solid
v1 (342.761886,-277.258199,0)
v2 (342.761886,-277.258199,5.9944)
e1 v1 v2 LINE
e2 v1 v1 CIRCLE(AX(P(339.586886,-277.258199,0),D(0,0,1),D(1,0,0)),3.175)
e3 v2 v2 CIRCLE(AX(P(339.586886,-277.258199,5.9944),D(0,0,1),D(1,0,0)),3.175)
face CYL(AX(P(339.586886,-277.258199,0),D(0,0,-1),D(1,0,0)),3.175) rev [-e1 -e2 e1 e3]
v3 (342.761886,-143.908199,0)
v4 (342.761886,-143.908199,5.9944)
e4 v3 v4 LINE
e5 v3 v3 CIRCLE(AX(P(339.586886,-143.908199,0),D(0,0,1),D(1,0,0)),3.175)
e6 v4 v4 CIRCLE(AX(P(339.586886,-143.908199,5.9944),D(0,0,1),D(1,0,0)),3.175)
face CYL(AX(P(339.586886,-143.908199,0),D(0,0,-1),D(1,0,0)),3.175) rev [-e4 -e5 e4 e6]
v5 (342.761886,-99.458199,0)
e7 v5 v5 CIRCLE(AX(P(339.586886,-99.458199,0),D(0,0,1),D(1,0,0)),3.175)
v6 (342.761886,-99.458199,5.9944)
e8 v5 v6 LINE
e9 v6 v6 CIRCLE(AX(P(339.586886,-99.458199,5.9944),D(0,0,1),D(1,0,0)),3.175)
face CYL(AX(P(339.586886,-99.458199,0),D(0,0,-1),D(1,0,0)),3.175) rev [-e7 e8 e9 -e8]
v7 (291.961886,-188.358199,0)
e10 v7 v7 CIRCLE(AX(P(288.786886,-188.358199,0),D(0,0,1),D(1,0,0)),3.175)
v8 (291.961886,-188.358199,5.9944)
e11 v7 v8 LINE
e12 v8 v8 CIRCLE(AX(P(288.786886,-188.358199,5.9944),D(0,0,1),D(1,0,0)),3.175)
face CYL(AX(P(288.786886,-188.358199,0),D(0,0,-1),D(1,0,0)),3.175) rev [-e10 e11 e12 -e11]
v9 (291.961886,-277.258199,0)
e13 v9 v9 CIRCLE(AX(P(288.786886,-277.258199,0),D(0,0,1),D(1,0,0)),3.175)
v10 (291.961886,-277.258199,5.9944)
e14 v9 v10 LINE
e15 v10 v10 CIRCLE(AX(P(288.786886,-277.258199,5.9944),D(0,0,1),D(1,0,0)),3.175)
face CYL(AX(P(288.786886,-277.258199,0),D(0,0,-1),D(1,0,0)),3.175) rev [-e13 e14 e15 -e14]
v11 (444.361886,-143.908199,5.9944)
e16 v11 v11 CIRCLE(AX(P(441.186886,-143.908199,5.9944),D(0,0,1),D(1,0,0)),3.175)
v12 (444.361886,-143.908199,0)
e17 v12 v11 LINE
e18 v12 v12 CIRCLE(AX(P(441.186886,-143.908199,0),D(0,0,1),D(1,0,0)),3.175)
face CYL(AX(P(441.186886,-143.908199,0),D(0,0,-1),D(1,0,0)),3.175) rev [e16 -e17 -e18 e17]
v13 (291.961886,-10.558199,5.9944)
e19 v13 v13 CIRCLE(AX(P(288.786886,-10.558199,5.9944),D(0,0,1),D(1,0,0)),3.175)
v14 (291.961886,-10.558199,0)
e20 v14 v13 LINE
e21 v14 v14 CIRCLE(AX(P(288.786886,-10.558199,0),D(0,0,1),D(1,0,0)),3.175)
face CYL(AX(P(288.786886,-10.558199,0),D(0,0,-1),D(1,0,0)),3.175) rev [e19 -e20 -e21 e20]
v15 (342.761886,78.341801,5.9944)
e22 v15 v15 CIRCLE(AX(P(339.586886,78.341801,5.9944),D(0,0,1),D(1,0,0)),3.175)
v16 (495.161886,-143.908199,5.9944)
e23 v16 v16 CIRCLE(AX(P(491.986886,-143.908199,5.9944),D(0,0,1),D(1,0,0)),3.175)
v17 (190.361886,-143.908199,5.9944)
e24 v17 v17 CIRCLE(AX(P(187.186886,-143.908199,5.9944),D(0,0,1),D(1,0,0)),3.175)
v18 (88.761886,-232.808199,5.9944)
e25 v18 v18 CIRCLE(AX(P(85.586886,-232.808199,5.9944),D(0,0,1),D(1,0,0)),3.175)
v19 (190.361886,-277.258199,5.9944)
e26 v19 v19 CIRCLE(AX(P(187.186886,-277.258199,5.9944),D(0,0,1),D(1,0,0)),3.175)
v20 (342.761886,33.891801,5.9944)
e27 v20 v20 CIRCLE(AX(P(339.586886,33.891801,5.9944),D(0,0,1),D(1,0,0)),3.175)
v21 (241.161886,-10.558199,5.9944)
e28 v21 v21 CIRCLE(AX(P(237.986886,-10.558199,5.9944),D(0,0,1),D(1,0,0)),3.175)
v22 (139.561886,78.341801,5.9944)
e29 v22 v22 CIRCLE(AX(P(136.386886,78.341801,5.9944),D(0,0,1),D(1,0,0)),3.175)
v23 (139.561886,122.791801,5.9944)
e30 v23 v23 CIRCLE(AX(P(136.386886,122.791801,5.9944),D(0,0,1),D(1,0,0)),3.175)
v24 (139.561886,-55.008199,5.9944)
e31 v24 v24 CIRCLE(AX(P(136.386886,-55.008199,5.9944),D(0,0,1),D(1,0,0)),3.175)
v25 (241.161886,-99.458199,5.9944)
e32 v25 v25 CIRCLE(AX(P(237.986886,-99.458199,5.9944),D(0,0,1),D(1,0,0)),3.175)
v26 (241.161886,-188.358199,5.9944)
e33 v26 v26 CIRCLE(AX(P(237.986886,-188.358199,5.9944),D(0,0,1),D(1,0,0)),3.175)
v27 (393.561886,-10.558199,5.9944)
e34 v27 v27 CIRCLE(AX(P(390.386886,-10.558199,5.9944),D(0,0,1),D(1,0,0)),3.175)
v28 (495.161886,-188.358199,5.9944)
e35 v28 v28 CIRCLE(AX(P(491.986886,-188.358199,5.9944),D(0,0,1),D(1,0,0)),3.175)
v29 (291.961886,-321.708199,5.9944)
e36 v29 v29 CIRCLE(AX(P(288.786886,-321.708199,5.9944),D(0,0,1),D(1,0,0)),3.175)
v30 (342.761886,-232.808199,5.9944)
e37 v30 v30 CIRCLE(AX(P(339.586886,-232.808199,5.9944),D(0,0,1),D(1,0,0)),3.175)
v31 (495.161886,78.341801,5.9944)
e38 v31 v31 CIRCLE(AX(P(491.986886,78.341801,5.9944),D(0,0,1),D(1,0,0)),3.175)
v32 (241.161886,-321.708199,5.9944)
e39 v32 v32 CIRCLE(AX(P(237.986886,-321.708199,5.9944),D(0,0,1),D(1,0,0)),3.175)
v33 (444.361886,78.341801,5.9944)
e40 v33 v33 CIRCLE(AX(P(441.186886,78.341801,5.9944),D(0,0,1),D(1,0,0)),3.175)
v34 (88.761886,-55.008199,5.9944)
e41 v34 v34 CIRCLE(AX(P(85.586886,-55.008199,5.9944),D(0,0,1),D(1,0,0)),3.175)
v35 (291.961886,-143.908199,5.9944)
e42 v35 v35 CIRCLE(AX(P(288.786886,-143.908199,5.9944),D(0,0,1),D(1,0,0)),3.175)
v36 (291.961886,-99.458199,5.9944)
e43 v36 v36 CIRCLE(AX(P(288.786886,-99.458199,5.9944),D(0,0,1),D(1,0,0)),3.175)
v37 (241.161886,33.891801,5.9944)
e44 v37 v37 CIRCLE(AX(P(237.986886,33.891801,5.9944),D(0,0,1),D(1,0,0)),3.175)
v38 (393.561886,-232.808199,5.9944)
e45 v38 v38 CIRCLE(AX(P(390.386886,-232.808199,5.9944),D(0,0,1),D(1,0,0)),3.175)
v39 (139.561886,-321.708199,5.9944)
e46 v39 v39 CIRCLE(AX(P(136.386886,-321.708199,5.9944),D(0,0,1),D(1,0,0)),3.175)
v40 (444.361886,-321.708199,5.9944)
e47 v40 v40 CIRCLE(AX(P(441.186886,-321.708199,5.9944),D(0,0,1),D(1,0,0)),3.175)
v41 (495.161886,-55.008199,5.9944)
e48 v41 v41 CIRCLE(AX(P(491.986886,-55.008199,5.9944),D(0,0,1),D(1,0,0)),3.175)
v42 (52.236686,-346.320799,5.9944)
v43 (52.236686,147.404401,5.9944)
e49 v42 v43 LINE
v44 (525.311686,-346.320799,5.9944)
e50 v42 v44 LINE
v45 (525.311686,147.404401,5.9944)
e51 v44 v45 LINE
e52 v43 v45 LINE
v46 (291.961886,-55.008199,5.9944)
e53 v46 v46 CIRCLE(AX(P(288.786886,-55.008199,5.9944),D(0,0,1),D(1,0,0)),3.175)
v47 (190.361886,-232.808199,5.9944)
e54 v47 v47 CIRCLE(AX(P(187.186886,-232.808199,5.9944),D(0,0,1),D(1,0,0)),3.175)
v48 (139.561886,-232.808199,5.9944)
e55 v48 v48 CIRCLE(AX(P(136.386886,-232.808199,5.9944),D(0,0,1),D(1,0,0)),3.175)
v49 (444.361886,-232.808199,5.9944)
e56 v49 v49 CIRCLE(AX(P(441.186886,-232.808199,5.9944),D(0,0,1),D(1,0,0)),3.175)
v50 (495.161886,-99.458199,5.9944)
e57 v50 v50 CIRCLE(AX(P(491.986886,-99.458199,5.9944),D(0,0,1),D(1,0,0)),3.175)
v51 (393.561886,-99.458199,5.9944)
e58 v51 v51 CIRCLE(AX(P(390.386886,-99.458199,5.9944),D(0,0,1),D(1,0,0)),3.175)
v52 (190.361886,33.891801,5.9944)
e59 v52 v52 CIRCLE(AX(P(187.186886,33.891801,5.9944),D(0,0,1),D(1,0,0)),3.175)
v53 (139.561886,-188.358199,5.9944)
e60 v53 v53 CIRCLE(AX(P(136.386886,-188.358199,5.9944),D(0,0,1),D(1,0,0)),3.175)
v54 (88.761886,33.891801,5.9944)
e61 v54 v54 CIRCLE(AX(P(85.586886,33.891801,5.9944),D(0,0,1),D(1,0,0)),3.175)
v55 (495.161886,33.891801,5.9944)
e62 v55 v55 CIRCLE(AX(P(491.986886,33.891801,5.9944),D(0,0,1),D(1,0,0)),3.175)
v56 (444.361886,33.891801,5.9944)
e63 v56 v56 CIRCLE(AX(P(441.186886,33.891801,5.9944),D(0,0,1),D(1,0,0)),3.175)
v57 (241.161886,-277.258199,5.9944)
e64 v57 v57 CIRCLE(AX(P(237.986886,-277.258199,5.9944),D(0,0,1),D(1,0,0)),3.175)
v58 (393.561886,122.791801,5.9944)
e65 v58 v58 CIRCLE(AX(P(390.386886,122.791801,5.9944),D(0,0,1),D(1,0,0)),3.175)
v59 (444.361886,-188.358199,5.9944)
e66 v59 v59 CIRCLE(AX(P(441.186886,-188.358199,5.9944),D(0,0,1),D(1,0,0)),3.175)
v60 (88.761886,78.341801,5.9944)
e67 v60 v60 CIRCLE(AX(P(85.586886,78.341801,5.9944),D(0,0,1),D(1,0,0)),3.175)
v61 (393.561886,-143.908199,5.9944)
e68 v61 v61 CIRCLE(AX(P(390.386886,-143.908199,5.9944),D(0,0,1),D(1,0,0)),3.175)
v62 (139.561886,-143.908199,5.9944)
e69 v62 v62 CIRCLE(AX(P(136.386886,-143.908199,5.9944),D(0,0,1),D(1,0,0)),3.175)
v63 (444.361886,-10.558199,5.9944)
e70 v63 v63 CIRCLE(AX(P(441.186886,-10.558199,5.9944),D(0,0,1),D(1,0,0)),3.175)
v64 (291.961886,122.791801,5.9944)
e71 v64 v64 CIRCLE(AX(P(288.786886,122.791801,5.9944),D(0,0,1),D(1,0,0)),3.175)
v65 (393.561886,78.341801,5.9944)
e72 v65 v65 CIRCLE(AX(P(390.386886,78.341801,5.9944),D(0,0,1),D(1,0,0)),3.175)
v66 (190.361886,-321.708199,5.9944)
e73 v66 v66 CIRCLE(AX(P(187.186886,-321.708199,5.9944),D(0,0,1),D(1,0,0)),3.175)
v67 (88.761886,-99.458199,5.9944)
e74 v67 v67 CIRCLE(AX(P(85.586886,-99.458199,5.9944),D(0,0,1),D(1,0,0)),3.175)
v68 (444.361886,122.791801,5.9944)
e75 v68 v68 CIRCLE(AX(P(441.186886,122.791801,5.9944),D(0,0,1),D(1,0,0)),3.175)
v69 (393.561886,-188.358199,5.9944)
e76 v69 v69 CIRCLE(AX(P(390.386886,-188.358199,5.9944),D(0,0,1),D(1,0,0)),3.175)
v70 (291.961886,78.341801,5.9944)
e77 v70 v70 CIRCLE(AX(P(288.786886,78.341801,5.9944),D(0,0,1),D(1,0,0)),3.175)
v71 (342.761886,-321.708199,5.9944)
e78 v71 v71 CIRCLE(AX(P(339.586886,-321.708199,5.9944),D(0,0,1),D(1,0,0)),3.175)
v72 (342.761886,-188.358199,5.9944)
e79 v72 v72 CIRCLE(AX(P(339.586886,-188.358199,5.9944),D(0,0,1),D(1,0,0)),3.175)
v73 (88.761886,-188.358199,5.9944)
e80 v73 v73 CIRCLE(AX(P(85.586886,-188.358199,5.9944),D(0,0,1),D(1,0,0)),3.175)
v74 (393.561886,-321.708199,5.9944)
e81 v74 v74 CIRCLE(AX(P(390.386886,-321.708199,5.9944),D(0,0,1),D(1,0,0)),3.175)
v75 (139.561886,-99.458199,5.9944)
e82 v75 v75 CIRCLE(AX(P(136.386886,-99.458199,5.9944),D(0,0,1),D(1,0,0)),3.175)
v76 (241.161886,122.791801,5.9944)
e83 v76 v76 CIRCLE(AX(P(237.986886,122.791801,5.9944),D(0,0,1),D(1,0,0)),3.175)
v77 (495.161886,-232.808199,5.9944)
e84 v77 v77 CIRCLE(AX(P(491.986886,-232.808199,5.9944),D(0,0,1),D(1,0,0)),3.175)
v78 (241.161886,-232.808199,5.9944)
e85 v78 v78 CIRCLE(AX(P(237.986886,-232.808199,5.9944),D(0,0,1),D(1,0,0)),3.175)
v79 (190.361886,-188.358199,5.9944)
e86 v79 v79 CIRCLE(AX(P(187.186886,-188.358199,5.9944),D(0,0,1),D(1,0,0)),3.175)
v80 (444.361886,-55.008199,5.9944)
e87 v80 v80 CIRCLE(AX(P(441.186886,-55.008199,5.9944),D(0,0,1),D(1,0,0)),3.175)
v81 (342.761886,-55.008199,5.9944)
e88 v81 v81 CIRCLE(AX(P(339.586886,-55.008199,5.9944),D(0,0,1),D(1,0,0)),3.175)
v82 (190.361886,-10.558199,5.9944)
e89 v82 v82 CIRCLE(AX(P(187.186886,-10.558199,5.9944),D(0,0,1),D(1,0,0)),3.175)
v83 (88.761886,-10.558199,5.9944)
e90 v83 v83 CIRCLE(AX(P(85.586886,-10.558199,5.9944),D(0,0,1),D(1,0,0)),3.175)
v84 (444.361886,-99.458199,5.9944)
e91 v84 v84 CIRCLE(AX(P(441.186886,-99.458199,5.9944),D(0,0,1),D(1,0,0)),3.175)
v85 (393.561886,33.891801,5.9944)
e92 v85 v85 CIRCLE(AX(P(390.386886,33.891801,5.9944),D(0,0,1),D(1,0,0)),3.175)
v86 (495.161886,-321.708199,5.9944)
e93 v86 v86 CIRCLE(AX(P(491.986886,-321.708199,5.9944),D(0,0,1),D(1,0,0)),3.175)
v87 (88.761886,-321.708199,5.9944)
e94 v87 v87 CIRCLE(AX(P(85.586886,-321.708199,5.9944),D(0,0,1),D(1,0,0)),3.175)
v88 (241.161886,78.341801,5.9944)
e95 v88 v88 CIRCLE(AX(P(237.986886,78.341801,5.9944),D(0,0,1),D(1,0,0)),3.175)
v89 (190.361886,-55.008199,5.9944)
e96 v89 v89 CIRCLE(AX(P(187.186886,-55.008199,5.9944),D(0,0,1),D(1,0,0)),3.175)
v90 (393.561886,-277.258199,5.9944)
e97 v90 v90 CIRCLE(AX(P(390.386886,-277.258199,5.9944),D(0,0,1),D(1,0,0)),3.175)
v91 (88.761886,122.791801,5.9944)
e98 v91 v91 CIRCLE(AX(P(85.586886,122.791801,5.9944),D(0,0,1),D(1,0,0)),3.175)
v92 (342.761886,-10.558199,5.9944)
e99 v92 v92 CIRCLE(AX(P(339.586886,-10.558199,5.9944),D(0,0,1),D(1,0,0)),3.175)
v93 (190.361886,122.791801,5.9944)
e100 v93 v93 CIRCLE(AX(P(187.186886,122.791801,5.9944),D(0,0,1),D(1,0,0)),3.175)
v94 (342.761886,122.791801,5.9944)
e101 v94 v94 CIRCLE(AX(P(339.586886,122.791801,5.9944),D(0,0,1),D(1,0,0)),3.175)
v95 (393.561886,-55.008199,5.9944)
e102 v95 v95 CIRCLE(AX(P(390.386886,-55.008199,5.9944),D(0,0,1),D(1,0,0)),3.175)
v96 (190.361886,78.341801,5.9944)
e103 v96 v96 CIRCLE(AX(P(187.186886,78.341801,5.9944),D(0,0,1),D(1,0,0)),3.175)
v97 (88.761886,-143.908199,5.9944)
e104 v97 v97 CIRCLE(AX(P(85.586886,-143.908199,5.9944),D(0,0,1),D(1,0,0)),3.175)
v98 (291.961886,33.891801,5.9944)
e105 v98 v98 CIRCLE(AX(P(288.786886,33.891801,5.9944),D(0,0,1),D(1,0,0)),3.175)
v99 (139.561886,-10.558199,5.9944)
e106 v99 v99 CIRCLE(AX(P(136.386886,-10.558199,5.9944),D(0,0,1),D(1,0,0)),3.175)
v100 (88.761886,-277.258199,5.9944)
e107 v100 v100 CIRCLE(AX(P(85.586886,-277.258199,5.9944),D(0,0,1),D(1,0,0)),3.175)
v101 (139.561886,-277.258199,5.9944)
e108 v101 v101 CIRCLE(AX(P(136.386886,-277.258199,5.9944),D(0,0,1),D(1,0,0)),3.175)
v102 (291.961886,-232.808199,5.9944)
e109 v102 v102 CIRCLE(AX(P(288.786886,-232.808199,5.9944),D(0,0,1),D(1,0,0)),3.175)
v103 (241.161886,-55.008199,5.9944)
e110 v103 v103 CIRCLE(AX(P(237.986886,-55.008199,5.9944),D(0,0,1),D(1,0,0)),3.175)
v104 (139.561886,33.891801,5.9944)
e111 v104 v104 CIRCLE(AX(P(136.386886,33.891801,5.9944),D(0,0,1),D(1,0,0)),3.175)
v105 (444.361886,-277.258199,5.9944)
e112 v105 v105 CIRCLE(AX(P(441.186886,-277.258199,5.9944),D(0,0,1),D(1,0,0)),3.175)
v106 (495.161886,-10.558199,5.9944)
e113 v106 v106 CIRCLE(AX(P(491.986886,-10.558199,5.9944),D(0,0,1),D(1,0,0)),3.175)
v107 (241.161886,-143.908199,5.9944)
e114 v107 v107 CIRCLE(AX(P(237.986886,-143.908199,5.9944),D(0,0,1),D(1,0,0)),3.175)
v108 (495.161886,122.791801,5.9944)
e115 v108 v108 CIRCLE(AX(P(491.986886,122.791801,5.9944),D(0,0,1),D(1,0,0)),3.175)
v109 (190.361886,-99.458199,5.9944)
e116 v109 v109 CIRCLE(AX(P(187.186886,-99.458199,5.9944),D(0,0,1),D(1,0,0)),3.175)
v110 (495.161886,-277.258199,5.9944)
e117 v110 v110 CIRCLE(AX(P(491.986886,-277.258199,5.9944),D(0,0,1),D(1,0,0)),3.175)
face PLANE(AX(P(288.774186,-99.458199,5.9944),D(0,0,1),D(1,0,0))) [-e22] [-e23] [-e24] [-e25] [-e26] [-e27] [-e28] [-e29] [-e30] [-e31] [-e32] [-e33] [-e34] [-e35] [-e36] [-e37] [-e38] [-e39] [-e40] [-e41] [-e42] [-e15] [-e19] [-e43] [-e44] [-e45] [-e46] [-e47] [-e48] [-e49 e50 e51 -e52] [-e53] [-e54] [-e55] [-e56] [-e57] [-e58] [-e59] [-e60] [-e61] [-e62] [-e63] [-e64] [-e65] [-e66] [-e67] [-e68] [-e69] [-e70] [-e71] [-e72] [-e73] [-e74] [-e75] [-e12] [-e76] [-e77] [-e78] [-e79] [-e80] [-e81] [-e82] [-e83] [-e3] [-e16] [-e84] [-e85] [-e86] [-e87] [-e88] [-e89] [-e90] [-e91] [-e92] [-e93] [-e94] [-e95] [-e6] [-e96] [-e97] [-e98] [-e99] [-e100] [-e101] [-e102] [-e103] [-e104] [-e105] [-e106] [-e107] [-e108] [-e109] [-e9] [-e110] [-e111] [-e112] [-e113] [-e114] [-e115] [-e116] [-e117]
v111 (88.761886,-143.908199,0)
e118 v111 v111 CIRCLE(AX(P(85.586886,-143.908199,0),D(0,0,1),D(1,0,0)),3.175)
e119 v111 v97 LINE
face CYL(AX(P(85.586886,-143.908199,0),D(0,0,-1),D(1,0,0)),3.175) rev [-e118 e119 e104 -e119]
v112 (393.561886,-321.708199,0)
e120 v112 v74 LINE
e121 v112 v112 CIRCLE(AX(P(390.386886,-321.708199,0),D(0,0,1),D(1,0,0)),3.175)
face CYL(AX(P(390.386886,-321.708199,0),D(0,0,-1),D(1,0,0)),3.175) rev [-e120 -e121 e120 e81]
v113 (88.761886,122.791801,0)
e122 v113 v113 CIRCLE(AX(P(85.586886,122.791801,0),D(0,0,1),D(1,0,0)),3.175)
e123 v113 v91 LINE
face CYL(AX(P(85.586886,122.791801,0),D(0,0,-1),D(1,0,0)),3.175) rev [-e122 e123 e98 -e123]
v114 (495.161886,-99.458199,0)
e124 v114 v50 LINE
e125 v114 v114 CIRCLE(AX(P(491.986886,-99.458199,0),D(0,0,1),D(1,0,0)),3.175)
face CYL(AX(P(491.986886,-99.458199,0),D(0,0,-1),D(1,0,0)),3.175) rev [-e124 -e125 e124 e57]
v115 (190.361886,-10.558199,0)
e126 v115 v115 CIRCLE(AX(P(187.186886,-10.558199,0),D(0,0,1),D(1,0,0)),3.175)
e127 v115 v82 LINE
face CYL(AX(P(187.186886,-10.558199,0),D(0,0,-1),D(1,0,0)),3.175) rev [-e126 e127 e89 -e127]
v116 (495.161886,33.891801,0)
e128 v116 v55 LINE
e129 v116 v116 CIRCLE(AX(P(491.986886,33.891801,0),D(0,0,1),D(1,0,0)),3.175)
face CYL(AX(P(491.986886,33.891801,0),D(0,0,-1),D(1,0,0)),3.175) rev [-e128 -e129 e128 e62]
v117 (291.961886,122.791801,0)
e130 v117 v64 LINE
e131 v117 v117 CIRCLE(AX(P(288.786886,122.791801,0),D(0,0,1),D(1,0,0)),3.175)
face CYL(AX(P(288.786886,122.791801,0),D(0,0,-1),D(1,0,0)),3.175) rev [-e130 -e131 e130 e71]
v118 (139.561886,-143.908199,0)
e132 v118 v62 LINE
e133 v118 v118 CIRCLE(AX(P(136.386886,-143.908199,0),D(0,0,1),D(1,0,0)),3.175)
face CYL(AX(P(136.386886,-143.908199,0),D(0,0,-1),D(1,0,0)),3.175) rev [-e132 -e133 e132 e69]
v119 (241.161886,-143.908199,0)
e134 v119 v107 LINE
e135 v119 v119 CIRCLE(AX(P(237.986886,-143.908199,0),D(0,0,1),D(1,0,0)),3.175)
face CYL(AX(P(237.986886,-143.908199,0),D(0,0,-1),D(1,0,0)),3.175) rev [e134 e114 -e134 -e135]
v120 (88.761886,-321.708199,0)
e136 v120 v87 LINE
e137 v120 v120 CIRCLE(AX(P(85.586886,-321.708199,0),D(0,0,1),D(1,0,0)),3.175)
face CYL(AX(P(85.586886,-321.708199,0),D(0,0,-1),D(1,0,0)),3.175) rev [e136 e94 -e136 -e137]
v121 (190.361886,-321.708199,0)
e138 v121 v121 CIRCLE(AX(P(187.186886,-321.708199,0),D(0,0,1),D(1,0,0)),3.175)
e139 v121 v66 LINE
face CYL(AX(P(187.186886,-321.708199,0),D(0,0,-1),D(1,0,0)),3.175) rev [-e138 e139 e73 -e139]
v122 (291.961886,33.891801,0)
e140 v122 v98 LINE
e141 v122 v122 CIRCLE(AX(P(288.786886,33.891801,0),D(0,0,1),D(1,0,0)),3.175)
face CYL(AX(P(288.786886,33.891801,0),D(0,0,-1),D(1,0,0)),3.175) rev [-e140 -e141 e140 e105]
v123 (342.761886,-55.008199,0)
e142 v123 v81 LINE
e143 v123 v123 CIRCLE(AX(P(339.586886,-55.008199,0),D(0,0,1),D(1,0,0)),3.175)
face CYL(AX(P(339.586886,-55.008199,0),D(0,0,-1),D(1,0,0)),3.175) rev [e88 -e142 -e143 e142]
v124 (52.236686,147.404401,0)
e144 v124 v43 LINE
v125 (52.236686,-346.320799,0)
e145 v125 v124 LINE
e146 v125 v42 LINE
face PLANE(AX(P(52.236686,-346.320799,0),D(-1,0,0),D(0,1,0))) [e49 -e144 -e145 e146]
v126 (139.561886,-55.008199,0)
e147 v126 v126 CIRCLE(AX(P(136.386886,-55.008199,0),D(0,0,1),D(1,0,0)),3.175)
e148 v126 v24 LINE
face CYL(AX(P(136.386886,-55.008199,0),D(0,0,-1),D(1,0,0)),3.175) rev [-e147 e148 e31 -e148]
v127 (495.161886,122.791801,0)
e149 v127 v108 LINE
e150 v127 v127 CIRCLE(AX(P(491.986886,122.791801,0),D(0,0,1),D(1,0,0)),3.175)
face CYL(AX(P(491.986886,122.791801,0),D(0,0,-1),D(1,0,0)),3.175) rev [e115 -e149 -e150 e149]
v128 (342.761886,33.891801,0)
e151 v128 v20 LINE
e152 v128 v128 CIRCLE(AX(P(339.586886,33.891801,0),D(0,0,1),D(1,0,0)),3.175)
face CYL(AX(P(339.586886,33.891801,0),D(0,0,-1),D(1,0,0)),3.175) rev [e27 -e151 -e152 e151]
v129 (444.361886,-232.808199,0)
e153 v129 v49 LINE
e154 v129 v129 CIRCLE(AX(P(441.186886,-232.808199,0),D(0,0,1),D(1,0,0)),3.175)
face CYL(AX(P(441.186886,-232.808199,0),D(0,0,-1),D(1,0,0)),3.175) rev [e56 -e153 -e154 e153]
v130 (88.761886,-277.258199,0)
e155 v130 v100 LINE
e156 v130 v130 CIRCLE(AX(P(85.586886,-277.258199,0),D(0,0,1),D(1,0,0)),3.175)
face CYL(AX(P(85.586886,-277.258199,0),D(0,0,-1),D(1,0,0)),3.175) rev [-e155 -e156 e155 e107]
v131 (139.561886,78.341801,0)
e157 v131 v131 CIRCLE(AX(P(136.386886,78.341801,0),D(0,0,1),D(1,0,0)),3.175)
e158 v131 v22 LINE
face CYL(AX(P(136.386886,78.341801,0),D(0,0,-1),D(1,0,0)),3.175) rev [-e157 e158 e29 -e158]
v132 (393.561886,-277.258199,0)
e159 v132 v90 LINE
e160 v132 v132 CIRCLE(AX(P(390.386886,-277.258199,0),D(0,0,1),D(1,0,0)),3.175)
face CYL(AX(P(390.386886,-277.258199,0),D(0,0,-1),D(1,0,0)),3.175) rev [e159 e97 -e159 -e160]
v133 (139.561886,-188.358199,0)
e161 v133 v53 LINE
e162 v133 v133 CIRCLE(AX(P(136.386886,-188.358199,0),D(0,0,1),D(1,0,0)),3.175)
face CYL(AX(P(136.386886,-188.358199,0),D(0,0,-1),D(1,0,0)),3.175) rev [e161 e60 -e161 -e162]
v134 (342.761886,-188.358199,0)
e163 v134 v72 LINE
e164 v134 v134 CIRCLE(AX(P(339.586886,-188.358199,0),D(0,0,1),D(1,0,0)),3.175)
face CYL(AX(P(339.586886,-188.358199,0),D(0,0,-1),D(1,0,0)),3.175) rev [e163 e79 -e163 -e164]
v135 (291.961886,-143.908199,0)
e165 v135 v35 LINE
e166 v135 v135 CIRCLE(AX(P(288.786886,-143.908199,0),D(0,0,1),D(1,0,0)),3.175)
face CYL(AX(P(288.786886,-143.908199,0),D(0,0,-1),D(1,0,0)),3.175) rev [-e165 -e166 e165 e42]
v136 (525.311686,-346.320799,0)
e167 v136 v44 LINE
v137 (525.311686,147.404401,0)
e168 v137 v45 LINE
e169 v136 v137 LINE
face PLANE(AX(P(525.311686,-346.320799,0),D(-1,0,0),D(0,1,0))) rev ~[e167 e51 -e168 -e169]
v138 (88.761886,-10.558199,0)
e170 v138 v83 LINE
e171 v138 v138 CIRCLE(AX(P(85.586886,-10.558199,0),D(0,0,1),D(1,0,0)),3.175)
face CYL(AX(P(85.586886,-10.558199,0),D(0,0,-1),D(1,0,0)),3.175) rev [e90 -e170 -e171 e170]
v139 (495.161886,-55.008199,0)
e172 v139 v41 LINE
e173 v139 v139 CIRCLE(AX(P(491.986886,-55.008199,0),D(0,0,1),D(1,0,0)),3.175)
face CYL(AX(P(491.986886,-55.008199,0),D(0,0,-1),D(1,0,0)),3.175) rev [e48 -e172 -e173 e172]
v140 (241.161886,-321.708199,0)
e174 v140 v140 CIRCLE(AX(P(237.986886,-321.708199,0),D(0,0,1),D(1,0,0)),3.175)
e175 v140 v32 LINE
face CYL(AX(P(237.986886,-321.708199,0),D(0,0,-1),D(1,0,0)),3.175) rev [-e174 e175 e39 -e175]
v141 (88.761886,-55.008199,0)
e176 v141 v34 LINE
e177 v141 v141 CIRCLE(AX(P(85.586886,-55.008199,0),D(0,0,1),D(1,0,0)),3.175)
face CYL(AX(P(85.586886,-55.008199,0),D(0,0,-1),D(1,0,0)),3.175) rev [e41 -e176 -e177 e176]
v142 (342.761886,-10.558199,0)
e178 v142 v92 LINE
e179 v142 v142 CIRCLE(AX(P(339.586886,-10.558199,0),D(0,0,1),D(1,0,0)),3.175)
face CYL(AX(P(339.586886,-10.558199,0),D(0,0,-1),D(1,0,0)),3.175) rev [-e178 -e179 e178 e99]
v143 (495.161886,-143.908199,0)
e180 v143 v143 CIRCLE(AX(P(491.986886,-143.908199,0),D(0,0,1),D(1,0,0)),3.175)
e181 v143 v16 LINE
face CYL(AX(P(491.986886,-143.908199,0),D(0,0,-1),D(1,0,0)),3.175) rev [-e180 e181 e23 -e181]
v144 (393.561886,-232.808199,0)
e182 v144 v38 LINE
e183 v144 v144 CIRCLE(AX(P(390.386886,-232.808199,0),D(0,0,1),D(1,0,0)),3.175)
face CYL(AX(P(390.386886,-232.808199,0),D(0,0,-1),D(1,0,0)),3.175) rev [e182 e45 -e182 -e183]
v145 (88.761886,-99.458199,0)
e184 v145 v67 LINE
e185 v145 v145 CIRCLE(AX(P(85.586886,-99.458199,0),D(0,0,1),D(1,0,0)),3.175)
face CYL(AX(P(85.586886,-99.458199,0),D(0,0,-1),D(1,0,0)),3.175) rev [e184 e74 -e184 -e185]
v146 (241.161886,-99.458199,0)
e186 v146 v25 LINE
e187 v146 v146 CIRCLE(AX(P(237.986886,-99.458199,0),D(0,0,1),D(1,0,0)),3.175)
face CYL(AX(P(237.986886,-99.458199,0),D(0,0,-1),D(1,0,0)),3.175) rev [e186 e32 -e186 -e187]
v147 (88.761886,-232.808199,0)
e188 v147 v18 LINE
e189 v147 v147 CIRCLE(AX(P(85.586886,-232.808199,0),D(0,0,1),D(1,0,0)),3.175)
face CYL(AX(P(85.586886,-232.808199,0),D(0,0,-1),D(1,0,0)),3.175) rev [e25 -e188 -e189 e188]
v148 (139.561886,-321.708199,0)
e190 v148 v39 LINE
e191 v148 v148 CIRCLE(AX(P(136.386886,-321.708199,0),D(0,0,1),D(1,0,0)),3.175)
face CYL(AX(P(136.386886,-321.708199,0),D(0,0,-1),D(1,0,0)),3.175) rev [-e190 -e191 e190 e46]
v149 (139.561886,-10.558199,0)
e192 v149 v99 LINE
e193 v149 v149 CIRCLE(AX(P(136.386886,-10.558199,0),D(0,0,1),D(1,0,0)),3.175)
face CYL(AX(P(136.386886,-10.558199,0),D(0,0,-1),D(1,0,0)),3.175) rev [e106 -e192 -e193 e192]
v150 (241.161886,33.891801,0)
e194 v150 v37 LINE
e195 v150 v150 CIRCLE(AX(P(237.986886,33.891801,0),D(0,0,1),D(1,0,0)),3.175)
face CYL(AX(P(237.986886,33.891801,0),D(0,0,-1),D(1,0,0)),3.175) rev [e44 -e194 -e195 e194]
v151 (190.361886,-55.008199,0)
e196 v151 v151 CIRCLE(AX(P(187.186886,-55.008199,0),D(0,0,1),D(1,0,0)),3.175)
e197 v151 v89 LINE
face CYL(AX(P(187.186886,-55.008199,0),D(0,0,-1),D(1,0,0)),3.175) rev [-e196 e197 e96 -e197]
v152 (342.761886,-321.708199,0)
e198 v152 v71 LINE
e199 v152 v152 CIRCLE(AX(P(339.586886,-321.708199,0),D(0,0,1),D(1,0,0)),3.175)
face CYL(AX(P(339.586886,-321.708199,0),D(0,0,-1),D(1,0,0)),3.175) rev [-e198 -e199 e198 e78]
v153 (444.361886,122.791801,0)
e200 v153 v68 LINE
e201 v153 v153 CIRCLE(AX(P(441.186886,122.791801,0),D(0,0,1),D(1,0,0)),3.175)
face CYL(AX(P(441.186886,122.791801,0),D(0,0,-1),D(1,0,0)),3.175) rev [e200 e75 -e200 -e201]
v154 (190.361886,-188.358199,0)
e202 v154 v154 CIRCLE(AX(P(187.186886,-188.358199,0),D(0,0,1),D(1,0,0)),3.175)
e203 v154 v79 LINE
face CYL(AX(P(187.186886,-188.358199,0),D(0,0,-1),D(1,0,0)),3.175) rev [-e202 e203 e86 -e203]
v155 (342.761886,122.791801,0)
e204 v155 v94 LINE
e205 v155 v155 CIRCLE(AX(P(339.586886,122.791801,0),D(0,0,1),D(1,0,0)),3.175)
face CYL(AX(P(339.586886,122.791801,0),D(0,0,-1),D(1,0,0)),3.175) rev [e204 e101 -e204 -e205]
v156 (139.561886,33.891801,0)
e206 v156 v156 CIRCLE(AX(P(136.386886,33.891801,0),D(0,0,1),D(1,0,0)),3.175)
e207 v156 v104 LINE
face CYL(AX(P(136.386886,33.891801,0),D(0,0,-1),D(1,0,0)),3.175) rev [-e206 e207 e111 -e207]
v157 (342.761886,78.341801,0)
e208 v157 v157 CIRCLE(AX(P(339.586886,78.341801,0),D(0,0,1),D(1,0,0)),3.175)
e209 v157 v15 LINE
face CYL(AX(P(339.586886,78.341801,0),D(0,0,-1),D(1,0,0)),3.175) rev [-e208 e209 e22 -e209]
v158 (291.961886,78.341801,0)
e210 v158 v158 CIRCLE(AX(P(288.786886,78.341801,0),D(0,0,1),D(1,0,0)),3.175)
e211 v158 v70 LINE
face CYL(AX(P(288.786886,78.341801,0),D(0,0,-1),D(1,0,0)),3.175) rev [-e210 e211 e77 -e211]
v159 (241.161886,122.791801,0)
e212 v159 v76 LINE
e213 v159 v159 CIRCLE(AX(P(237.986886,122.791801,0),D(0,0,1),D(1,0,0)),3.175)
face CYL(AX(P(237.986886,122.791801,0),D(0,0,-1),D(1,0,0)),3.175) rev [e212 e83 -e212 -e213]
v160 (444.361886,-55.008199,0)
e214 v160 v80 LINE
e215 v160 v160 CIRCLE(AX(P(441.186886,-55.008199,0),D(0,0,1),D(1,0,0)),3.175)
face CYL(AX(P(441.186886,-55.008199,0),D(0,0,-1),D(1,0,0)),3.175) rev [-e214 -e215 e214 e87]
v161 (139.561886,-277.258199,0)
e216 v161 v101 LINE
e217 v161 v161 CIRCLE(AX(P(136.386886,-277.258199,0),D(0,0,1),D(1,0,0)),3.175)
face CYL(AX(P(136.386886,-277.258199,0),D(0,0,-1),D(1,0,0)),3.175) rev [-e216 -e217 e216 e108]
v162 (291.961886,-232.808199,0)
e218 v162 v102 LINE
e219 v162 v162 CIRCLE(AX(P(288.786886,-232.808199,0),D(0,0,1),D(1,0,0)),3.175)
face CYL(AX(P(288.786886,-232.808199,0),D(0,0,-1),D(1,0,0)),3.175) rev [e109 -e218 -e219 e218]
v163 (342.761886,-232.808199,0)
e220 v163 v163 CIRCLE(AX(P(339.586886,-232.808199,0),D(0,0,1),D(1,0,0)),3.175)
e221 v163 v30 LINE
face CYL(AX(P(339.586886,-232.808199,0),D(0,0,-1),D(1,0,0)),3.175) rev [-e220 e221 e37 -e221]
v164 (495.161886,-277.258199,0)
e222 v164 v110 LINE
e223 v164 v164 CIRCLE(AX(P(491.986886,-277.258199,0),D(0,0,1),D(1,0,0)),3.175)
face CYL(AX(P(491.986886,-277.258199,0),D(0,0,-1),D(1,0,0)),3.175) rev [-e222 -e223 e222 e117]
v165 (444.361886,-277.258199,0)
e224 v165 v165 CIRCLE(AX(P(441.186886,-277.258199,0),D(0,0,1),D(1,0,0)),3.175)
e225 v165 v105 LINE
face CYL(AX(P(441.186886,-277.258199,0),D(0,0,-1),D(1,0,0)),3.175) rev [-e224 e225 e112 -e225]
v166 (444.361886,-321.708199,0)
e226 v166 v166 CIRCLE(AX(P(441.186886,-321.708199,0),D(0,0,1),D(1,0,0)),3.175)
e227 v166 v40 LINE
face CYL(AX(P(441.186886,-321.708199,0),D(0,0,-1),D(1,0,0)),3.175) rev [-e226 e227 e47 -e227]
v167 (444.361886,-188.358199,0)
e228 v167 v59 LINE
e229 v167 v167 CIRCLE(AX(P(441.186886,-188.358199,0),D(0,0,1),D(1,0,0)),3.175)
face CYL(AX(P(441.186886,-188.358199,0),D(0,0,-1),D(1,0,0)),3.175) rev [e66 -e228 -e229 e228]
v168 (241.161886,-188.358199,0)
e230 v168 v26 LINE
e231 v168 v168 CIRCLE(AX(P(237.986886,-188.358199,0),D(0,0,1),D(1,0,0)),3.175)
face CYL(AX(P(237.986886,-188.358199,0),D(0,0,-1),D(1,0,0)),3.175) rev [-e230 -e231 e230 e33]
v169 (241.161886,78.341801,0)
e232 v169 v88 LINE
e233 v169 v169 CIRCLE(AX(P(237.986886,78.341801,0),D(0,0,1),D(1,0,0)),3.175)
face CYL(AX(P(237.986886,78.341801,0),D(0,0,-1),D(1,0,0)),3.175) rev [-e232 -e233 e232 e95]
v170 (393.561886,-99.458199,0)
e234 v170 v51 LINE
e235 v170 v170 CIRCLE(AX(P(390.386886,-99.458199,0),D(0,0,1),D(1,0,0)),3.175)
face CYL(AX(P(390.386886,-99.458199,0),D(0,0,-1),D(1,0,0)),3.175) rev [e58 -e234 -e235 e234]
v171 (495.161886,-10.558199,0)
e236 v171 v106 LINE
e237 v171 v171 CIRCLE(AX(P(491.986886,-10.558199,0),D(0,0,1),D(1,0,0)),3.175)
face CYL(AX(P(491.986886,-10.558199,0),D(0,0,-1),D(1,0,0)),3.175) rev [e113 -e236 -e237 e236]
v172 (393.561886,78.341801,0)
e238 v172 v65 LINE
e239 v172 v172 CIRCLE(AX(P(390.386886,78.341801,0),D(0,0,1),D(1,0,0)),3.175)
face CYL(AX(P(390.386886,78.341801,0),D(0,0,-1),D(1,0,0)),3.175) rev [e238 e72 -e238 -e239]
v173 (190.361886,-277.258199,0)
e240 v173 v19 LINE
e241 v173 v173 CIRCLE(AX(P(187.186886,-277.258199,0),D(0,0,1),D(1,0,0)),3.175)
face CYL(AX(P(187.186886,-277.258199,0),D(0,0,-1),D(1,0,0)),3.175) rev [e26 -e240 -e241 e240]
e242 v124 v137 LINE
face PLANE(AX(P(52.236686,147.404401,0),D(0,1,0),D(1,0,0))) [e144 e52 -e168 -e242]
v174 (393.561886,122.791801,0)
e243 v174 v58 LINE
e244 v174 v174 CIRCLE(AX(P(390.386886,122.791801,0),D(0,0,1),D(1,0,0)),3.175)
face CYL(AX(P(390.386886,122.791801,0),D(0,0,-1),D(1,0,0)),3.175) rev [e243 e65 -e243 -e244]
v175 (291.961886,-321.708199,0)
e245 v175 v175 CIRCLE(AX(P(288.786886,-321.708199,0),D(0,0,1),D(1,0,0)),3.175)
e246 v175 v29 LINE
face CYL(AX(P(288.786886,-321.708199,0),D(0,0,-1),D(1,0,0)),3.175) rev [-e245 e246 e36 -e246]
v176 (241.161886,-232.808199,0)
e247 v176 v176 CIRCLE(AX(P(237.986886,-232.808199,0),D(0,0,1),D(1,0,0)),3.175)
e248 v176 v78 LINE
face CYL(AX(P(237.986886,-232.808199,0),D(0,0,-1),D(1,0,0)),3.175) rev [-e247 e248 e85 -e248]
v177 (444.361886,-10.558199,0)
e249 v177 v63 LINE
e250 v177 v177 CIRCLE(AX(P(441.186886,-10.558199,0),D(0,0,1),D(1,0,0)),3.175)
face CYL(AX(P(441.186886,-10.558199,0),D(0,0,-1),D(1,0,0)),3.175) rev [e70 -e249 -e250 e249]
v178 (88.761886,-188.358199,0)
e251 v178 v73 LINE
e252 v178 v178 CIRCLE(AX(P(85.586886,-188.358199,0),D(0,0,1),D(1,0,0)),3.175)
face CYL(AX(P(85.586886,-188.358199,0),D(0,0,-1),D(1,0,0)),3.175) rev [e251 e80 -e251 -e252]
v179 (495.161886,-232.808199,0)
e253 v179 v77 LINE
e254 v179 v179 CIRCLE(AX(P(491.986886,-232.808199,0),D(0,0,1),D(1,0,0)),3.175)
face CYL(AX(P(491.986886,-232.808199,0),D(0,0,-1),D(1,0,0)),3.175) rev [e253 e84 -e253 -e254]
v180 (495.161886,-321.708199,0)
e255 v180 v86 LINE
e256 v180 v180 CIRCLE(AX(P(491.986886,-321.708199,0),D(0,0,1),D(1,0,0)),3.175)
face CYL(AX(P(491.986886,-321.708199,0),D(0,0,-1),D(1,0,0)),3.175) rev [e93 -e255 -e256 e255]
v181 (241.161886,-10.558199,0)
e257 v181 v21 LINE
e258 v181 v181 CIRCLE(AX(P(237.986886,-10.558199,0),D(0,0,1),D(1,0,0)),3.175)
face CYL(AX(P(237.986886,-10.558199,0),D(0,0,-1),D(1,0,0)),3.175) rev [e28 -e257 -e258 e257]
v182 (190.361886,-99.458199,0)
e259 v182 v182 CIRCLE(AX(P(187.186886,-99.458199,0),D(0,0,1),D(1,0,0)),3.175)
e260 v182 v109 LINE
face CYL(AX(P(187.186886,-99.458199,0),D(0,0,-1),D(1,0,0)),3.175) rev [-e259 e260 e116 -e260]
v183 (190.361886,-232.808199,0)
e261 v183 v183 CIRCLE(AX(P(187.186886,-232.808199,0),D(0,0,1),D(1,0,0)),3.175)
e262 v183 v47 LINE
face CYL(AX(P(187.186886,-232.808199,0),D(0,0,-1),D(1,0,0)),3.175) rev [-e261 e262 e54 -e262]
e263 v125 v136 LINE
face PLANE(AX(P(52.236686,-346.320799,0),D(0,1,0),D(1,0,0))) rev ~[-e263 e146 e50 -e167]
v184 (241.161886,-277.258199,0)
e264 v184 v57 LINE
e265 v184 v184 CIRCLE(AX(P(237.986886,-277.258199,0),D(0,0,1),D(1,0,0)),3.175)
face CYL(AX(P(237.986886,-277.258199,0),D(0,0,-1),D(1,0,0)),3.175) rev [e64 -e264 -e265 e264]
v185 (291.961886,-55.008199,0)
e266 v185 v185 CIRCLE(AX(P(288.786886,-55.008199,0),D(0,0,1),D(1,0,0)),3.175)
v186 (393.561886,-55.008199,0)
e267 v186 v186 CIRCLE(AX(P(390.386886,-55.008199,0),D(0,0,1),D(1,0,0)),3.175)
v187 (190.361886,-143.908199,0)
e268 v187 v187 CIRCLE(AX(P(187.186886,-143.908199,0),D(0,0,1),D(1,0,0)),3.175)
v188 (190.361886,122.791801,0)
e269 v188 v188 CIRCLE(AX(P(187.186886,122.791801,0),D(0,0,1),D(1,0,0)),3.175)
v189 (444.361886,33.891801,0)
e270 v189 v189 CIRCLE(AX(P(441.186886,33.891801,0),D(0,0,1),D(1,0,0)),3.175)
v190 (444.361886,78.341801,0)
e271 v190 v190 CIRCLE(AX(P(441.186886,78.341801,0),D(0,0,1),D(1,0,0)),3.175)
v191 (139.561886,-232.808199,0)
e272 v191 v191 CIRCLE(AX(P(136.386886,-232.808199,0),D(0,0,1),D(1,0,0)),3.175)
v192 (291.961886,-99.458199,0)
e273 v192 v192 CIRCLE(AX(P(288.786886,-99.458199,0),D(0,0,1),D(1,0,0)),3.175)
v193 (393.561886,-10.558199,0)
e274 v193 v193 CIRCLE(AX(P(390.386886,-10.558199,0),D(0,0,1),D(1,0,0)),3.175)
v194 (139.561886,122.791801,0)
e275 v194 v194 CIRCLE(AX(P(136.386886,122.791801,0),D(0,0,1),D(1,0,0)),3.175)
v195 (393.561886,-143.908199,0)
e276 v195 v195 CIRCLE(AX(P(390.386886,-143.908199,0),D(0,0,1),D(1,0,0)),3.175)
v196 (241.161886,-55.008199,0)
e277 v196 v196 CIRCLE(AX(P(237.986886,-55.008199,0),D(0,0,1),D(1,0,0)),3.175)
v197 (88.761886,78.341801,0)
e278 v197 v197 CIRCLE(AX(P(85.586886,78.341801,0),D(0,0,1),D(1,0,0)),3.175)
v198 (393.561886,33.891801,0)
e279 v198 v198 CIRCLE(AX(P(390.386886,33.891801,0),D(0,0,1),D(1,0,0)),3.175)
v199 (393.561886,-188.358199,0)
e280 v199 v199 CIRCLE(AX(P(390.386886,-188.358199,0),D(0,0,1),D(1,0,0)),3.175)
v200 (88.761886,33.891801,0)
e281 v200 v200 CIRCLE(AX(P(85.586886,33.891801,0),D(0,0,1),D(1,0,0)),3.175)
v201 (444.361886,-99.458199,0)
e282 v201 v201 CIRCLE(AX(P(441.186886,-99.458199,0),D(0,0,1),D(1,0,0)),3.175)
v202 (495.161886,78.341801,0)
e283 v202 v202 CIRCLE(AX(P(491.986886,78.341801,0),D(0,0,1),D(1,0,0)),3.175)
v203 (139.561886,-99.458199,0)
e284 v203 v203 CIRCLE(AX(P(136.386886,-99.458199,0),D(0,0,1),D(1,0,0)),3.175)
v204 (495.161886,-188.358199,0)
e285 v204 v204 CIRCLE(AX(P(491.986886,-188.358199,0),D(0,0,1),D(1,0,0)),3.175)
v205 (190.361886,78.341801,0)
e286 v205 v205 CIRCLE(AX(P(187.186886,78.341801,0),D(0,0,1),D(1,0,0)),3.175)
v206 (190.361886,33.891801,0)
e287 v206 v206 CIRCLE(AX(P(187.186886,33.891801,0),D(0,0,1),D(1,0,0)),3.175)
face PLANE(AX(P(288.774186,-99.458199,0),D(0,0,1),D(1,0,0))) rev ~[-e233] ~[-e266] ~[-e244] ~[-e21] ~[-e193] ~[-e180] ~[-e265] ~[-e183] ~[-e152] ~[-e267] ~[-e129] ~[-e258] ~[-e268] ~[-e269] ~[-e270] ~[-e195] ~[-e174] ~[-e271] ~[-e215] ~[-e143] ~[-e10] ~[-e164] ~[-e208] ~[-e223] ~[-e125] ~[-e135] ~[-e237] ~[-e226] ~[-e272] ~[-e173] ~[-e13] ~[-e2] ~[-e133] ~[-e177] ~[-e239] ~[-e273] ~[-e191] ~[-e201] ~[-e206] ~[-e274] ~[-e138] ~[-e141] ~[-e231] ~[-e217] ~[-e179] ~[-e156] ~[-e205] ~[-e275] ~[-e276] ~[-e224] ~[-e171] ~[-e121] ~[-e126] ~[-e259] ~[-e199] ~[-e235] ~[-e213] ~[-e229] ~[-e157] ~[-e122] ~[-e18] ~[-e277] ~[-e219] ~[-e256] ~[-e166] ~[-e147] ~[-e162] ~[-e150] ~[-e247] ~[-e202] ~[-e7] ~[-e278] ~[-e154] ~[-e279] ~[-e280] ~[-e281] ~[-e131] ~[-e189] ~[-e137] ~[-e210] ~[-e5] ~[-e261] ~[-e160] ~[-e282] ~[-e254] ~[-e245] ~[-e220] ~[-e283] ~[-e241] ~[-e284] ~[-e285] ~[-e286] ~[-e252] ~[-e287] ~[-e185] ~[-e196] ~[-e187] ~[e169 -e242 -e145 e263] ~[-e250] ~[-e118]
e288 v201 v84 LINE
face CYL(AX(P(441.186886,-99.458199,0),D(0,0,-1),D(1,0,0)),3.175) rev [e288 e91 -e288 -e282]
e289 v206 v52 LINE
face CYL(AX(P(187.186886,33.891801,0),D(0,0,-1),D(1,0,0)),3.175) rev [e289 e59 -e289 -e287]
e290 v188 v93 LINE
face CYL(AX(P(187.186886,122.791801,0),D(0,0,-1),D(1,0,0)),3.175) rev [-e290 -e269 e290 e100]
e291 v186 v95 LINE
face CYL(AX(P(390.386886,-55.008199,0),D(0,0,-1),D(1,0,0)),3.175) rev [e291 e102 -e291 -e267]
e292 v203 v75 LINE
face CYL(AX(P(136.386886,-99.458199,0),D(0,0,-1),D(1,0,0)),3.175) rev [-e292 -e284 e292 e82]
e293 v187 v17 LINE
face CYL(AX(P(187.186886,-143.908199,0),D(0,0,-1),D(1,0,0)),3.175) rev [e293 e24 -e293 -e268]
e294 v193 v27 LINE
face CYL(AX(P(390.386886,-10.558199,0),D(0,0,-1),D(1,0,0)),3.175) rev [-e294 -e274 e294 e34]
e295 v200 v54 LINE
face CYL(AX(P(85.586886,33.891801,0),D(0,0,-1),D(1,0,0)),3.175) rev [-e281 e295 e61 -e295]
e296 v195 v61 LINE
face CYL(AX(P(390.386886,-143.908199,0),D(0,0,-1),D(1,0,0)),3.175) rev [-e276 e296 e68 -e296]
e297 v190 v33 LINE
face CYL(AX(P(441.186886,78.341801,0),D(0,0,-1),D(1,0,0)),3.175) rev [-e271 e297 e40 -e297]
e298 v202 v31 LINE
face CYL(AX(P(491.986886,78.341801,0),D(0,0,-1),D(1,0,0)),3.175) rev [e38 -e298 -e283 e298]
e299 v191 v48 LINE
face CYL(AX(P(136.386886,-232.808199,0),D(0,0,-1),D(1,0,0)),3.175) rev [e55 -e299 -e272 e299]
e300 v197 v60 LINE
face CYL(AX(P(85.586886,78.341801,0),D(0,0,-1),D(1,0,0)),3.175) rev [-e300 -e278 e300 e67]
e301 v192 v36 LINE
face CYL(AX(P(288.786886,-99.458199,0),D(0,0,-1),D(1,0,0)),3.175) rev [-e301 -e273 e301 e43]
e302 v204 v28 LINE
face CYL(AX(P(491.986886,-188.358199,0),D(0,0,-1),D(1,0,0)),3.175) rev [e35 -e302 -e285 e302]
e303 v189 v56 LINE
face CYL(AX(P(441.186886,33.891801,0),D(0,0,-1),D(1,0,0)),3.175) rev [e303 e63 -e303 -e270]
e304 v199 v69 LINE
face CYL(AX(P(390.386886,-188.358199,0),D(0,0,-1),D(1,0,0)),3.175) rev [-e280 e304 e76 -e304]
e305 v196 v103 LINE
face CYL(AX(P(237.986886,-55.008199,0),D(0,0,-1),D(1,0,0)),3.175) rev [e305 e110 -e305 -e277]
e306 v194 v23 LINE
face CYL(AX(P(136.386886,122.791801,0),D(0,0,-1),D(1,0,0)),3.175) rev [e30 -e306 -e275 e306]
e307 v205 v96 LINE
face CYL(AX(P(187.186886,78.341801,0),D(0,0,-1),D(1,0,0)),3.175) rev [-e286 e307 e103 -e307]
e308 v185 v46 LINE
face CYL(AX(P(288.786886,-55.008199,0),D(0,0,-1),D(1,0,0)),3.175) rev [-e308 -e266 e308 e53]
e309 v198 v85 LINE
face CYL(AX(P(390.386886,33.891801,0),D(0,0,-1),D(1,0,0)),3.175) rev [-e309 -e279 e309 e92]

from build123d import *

# Parameters (mm, degrees)
SKETCH_W      = 473.075
SKETCH_H      = 493.7252
SKETCH_R      = 3.175
EXTRUDE_DEPTH = 5.9944


with BuildPart() as part:
    # Sketch → Extrude (new body)
    with BuildSketch(Plane.XY):
        with Locations((288.774186, -99.458199)):
            Rectangle(SKETCH_W, SKETCH_H)
        with Locations((85.586886, 122.791801)):
            Circle(SKETCH_R, mode=Mode.SUBTRACT)
        with Locations((136.386886, 122.791801)):
            Circle(SKETCH_R, mode=Mode.SUBTRACT)
        with Locations((187.186886, 122.791801)):
            Circle(SKETCH_R, mode=Mode.SUBTRACT)
        with Locations((237.986886, 122.791801)):
            Circle(SKETCH_R, mode=Mode.SUBTRACT)
        with Locations((288.786886, 122.791801)):
            Circle(SKETCH_R, mode=Mode.SUBTRACT)
        with Locations((339.586886, 122.791801)):
            Circle(SKETCH_R, mode=Mode.SUBTRACT)
        with Locations((390.386886, 122.791801)):
            Circle(SKETCH_R, mode=Mode.SUBTRACT)
        with Locations((441.186886, 122.791801)):
            Circle(SKETCH_R, mode=Mode.SUBTRACT)
        with Locations((491.986886, 122.791801)):
            Circle(SKETCH_R, mode=Mode.SUBTRACT)
        with Locations((85.586886, 78.341801)):
            Circle(SKETCH_R, mode=Mode.SUBTRACT)
        with Locations((136.386886, 78.341801)):
            Circle(SKETCH_R, mode=Mode.SUBTRACT)
        with Locations((187.186886, 78.341801)):
            Circle(SKETCH_R, mode=Mode.SUBTRACT)
        with Locations((237.986886, 78.341801)):
            Circle(SKETCH_R, mode=Mode.SUBTRACT)
        with Locations((288.786886, 78.341801)):
            Circle(SKETCH_R, mode=Mode.SUBTRACT)
        with Locations((339.586886, 78.341801)):
            Circle(SKETCH_R, mode=Mode.SUBTRACT)
        with Locations((390.386886, 78.341801)):
            Circle(SKETCH_R, mode=Mode.SUBTRACT)
        with Locations((441.186886, 78.341801)):
            Circle(SKETCH_R, mode=Mode.SUBTRACT)
        with Locations((491.986886, 78.341801)):
            Circle(SKETCH_R, mode=Mode.SUBTRACT)
        with Locations((85.586886, 33.891801)):
            Circle(SKETCH_R, mode=Mode.SUBTRACT)
        with Locations((136.386886, 33.891801)):
            Circle(SKETCH_R, mode=Mode.SUBTRACT)
        with Locations((187.186886, 33.891801)):
            Circle(SKETCH_R, mode=Mode.SUBTRACT)
        with Locations((237.986886, 33.891801)):
            Circle(SKETCH_R, mode=Mode.SUBTRACT)
        with Locations((288.786886, 33.891801)):
            Circle(SKETCH_R, mode=Mode.SUBTRACT)
        with Locations((339.586886, 33.891801)):
            Circle(SKETCH_R, mode=Mode.SUBTRACT)
        with Locations((390.386886, 33.891801)):
            Circle(SKETCH_R, mode=Mode.SUBTRACT)
        with Locations((441.186886, 33.891801)):
            Circle(SKETCH_R, mode=Mode.SUBTRACT)
        with Locations((491.986886, 33.891801)):
            Circle(SKETCH_R, mode=Mode.SUBTRACT)
        with Locations((85.586886, -10.558199)):
            Circle(SKETCH_R, mode=Mode.SUBTRACT)
        with Locations((136.386886, -10.558199)):
            Circle(SKETCH_R, mode=Mode.SUBTRACT)
        with Locations((187.186886, -10.558199)):
            Circle(SKETCH_R, mode=Mode.SUBTRACT)
        with Locations((237.986886, -10.558199)):
            Circle(SKETCH_R, mode=Mode.SUBTRACT)
        with Locations((288.786886, -10.558199)):
            Circle(SKETCH_R, mode=Mode.SUBTRACT)
        with Locations((339.586886, -10.558199)):
            Circle(SKETCH_R, mode=Mode.SUBTRACT)
        with Locations((390.386886, -10.558199)):
            Circle(SKETCH_R, mode=Mode.SUBTRACT)
        with Locations((441.186886, -10.558199)):
            Circle(SKETCH_R, mode=Mode.SUBTRACT)
        with Locations((491.986886, -10.558199)):
            Circle(SKETCH_R, mode=Mode.SUBTRACT)
        with Locations((85.586886, -55.008199)):
            Circle(SKETCH_R, mode=Mode.SUBTRACT)
        with Locations((136.386886, -55.008199)):
            Circle(SKETCH_R, mode=Mode.SUBTRACT)
        with Locations((187.186886, -55.008199)):
            Circle(SKETCH_R, mode=Mode.SUBTRACT)
        with Locations((237.986886, -55.008199)):
            Circle(SKETCH_R, mode=Mode.SUBTRACT)
        with Locations((288.786886, -55.008199)):
            Circle(SKETCH_R, mode=Mode.SUBTRACT)
        with Locations((339.586886, -55.008199)):
            Circle(SKETCH_R, mode=Mode.SUBTRACT)
        with Locations((390.386886, -55.008199)):
            Circle(SKETCH_R, mode=Mode.SUBTRACT)
        with Locations((441.186886, -55.008199)):
            Circle(SKETCH_R, mode=Mode.SUBTRACT)
        with Locations((491.986886, -55.008199)):
            Circle(SKETCH_R, mode=Mode.SUBTRACT)
        with Locations((85.586886, -99.458199)):
            Circle(SKETCH_R, mode=Mode.SUBTRACT)
        with Locations((136.386886, -99.458199)):
            Circle(SKETCH_R, mode=Mode.SUBTRACT)
        with Locations((187.186886, -99.458199)):
            Circle(SKETCH_R, mode=Mode.SUBTRACT)
        with Locations((237.986886, -99.458199)):
            Circle(SKETCH_R, mode=Mode.SUBTRACT)
        with Locations((288.786886, -99.458199)):
            Circle(SKETCH_R, mode=Mode.SUBTRACT)
        with Locations((339.586886, -99.458199)):
            Circle(SKETCH_R, mode=Mode.SUBTRACT)
        with Locations((390.386886, -99.458199)):
            Circle(SKETCH_R, mode=Mode.SUBTRACT)
        with Locations((441.186886, -99.458199)):
            Circle(SKETCH_R, mode=Mode.SUBTRACT)
        with Locations((491.986886, -99.458199)):
            Circle(SKETCH_R, mode=Mode.SUBTRACT)
        with Locations((85.586886, -143.908199)):
            Circle(SKETCH_R, mode=Mode.SUBTRACT)
        with Locations((136.386886, -143.908199)):
            Circle(SKETCH_R, mode=Mode.SUBTRACT)
        with Locations((187.186886, -143.908199)):
            Circle(SKETCH_R, mode=Mode.SUBTRACT)
        with Locations((237.986886, -143.908199)):
            Circle(SKETCH_R, mode=Mode.SUBTRACT)
        with Locations((288.786886, -143.908199)):
            Circle(SKETCH_R, mode=Mode.SUBTRACT)
        with Locations((339.586886, -143.908199)):
            Circle(SKETCH_R, mode=Mode.SUBTRACT)
        with Locations((390.386886, -143.908199)):
            Circle(SKETCH_R, mode=Mode.SUBTRACT)
        with Locations((441.186886, -143.908199)):
            Circle(SKETCH_R, mode=Mode.SUBTRACT)
        with Locations((491.986886, -143.908199)):
            Circle(SKETCH_R, mode=Mode.SUBTRACT)
        with Locations((85.586886, -188.358199)):
            Circle(SKETCH_R, mode=Mode.SUBTRACT)
        with Locations((136.386886, -188.358199)):
            Circle(SKETCH_R, mode=Mode.SUBTRACT)
        with Locations((187.186886, -188.358199)):
            Circle(SKETCH_R, mode=Mode.SUBTRACT)
        with Locations((237.986886, -188.358199)):
            Circle(SKETCH_R, mode=Mode.SUBTRACT)
        with Locations((288.786886, -188.358199)):
            Circle(SKETCH_R, mode=Mode.SUBTRACT)
        with Locations((339.586886, -188.358199)):
            Circle(SKETCH_R, mode=Mode.SUBTRACT)
        with Locations((390.386886, -188.358199)):
            Circle(SKETCH_R, mode=Mode.SUBTRACT)
        with Locations((441.186886, -188.358199)):
            Circle(SKETCH_R, mode=Mode.SUBTRACT)
        with Locations((491.986886, -188.358199)):
            Circle(SKETCH_R, mode=Mode.SUBTRACT)
        with Locations((85.586886, -232.808199)):
            Circle(SKETCH_R, mode=Mode.SUBTRACT)
        with Locations((136.386886, -232.808199)):
            Circle(SKETCH_R, mode=Mode.SUBTRACT)
        with Locations((187.186886, -232.808199)):
            Circle(SKETCH_R, mode=Mode.SUBTRACT)
        with Locations((237.986886, -232.808199)):
            Circle(SKETCH_R, mode=Mode.SUBTRACT)
        with Locations((288.786886, -232.808199)):
            Circle(SKETCH_R, mode=Mode.SUBTRACT)
        with Locations((339.586886, -232.808199)):
            Circle(SKETCH_R, mode=Mode.SUBTRACT)
        with Locations((390.386886, -232.808199)):
            Circle(SKETCH_R, mode=Mode.SUBTRACT)
        with Locations((441.186886, -232.808199)):
            Circle(SKETCH_R, mode=Mode.SUBTRACT)
        with Locations((491.986886, -232.808199)):
            Circle(SKETCH_R, mode=Mode.SUBTRACT)
        with Locations((85.586886, -277.258199)):
            Circle(SKETCH_R, mode=Mode.SUBTRACT)
        with Locations((136.386886, -277.258199)):
            Circle(SKETCH_R, mode=Mode.SUBTRACT)
        with Locations((187.186886, -277.258199)):
            Circle(SKETCH_R, mode=Mode.SUBTRACT)
        with Locations((237.986886, -277.258199)):
            Circle(SKETCH_R, mode=Mode.SUBTRACT)
        with Locations((288.786886, -277.258199)):
            Circle(SKETCH_R, mode=Mode.SUBTRACT)
        with Locations((339.586886, -277.258199)):
            Circle(SKETCH_R, mode=Mode.SUBTRACT)
        with Locations((390.386886, -277.258199)):
            Circle(SKETCH_R, mode=Mode.SUBTRACT)
        with Locations((441.186886, -277.258199)):
            Circle(SKETCH_R, mode=Mode.SUBTRACT)
        with Locations((491.986886, -277.258199)):
            Circle(SKETCH_R, mode=Mode.SUBTRACT)
        with Locations((85.586886, -321.708199)):
            Circle(SKETCH_R, mode=Mode.SUBTRACT)
        with Locations((136.386886, -321.708199)):
            Circle(SKETCH_R, mode=Mode.SUBTRACT)
        with Locations((187.186886, -321.708199)):
            Circle(SKETCH_R, mode=Mode.SUBTRACT)
        with Locations((237.986886, -321.708199)):
            Circle(SKETCH_R, mode=Mode.SUBTRACT)
        with Locations((288.786886, -321.708199)):
            Circle(SKETCH_R, mode=Mode.SUBTRACT)
        with Locations((339.586886, -321.708199)):
            Circle(SKETCH_R, mode=Mode.SUBTRACT)
        with Locations((390.386886, -321.708199)):
            Circle(SKETCH_R, mode=Mode.SUBTRACT)
        with Locations((441.186886, -321.708199)):
            Circle(SKETCH_R, mode=Mode.SUBTRACT)
        with Locations((491.986886, -321.708199)):
            Circle(SKETCH_R, mode=Mode.SUBTRACT)
    extrude(amount=EXTRUDE_DEPTH)


solid = part.part
